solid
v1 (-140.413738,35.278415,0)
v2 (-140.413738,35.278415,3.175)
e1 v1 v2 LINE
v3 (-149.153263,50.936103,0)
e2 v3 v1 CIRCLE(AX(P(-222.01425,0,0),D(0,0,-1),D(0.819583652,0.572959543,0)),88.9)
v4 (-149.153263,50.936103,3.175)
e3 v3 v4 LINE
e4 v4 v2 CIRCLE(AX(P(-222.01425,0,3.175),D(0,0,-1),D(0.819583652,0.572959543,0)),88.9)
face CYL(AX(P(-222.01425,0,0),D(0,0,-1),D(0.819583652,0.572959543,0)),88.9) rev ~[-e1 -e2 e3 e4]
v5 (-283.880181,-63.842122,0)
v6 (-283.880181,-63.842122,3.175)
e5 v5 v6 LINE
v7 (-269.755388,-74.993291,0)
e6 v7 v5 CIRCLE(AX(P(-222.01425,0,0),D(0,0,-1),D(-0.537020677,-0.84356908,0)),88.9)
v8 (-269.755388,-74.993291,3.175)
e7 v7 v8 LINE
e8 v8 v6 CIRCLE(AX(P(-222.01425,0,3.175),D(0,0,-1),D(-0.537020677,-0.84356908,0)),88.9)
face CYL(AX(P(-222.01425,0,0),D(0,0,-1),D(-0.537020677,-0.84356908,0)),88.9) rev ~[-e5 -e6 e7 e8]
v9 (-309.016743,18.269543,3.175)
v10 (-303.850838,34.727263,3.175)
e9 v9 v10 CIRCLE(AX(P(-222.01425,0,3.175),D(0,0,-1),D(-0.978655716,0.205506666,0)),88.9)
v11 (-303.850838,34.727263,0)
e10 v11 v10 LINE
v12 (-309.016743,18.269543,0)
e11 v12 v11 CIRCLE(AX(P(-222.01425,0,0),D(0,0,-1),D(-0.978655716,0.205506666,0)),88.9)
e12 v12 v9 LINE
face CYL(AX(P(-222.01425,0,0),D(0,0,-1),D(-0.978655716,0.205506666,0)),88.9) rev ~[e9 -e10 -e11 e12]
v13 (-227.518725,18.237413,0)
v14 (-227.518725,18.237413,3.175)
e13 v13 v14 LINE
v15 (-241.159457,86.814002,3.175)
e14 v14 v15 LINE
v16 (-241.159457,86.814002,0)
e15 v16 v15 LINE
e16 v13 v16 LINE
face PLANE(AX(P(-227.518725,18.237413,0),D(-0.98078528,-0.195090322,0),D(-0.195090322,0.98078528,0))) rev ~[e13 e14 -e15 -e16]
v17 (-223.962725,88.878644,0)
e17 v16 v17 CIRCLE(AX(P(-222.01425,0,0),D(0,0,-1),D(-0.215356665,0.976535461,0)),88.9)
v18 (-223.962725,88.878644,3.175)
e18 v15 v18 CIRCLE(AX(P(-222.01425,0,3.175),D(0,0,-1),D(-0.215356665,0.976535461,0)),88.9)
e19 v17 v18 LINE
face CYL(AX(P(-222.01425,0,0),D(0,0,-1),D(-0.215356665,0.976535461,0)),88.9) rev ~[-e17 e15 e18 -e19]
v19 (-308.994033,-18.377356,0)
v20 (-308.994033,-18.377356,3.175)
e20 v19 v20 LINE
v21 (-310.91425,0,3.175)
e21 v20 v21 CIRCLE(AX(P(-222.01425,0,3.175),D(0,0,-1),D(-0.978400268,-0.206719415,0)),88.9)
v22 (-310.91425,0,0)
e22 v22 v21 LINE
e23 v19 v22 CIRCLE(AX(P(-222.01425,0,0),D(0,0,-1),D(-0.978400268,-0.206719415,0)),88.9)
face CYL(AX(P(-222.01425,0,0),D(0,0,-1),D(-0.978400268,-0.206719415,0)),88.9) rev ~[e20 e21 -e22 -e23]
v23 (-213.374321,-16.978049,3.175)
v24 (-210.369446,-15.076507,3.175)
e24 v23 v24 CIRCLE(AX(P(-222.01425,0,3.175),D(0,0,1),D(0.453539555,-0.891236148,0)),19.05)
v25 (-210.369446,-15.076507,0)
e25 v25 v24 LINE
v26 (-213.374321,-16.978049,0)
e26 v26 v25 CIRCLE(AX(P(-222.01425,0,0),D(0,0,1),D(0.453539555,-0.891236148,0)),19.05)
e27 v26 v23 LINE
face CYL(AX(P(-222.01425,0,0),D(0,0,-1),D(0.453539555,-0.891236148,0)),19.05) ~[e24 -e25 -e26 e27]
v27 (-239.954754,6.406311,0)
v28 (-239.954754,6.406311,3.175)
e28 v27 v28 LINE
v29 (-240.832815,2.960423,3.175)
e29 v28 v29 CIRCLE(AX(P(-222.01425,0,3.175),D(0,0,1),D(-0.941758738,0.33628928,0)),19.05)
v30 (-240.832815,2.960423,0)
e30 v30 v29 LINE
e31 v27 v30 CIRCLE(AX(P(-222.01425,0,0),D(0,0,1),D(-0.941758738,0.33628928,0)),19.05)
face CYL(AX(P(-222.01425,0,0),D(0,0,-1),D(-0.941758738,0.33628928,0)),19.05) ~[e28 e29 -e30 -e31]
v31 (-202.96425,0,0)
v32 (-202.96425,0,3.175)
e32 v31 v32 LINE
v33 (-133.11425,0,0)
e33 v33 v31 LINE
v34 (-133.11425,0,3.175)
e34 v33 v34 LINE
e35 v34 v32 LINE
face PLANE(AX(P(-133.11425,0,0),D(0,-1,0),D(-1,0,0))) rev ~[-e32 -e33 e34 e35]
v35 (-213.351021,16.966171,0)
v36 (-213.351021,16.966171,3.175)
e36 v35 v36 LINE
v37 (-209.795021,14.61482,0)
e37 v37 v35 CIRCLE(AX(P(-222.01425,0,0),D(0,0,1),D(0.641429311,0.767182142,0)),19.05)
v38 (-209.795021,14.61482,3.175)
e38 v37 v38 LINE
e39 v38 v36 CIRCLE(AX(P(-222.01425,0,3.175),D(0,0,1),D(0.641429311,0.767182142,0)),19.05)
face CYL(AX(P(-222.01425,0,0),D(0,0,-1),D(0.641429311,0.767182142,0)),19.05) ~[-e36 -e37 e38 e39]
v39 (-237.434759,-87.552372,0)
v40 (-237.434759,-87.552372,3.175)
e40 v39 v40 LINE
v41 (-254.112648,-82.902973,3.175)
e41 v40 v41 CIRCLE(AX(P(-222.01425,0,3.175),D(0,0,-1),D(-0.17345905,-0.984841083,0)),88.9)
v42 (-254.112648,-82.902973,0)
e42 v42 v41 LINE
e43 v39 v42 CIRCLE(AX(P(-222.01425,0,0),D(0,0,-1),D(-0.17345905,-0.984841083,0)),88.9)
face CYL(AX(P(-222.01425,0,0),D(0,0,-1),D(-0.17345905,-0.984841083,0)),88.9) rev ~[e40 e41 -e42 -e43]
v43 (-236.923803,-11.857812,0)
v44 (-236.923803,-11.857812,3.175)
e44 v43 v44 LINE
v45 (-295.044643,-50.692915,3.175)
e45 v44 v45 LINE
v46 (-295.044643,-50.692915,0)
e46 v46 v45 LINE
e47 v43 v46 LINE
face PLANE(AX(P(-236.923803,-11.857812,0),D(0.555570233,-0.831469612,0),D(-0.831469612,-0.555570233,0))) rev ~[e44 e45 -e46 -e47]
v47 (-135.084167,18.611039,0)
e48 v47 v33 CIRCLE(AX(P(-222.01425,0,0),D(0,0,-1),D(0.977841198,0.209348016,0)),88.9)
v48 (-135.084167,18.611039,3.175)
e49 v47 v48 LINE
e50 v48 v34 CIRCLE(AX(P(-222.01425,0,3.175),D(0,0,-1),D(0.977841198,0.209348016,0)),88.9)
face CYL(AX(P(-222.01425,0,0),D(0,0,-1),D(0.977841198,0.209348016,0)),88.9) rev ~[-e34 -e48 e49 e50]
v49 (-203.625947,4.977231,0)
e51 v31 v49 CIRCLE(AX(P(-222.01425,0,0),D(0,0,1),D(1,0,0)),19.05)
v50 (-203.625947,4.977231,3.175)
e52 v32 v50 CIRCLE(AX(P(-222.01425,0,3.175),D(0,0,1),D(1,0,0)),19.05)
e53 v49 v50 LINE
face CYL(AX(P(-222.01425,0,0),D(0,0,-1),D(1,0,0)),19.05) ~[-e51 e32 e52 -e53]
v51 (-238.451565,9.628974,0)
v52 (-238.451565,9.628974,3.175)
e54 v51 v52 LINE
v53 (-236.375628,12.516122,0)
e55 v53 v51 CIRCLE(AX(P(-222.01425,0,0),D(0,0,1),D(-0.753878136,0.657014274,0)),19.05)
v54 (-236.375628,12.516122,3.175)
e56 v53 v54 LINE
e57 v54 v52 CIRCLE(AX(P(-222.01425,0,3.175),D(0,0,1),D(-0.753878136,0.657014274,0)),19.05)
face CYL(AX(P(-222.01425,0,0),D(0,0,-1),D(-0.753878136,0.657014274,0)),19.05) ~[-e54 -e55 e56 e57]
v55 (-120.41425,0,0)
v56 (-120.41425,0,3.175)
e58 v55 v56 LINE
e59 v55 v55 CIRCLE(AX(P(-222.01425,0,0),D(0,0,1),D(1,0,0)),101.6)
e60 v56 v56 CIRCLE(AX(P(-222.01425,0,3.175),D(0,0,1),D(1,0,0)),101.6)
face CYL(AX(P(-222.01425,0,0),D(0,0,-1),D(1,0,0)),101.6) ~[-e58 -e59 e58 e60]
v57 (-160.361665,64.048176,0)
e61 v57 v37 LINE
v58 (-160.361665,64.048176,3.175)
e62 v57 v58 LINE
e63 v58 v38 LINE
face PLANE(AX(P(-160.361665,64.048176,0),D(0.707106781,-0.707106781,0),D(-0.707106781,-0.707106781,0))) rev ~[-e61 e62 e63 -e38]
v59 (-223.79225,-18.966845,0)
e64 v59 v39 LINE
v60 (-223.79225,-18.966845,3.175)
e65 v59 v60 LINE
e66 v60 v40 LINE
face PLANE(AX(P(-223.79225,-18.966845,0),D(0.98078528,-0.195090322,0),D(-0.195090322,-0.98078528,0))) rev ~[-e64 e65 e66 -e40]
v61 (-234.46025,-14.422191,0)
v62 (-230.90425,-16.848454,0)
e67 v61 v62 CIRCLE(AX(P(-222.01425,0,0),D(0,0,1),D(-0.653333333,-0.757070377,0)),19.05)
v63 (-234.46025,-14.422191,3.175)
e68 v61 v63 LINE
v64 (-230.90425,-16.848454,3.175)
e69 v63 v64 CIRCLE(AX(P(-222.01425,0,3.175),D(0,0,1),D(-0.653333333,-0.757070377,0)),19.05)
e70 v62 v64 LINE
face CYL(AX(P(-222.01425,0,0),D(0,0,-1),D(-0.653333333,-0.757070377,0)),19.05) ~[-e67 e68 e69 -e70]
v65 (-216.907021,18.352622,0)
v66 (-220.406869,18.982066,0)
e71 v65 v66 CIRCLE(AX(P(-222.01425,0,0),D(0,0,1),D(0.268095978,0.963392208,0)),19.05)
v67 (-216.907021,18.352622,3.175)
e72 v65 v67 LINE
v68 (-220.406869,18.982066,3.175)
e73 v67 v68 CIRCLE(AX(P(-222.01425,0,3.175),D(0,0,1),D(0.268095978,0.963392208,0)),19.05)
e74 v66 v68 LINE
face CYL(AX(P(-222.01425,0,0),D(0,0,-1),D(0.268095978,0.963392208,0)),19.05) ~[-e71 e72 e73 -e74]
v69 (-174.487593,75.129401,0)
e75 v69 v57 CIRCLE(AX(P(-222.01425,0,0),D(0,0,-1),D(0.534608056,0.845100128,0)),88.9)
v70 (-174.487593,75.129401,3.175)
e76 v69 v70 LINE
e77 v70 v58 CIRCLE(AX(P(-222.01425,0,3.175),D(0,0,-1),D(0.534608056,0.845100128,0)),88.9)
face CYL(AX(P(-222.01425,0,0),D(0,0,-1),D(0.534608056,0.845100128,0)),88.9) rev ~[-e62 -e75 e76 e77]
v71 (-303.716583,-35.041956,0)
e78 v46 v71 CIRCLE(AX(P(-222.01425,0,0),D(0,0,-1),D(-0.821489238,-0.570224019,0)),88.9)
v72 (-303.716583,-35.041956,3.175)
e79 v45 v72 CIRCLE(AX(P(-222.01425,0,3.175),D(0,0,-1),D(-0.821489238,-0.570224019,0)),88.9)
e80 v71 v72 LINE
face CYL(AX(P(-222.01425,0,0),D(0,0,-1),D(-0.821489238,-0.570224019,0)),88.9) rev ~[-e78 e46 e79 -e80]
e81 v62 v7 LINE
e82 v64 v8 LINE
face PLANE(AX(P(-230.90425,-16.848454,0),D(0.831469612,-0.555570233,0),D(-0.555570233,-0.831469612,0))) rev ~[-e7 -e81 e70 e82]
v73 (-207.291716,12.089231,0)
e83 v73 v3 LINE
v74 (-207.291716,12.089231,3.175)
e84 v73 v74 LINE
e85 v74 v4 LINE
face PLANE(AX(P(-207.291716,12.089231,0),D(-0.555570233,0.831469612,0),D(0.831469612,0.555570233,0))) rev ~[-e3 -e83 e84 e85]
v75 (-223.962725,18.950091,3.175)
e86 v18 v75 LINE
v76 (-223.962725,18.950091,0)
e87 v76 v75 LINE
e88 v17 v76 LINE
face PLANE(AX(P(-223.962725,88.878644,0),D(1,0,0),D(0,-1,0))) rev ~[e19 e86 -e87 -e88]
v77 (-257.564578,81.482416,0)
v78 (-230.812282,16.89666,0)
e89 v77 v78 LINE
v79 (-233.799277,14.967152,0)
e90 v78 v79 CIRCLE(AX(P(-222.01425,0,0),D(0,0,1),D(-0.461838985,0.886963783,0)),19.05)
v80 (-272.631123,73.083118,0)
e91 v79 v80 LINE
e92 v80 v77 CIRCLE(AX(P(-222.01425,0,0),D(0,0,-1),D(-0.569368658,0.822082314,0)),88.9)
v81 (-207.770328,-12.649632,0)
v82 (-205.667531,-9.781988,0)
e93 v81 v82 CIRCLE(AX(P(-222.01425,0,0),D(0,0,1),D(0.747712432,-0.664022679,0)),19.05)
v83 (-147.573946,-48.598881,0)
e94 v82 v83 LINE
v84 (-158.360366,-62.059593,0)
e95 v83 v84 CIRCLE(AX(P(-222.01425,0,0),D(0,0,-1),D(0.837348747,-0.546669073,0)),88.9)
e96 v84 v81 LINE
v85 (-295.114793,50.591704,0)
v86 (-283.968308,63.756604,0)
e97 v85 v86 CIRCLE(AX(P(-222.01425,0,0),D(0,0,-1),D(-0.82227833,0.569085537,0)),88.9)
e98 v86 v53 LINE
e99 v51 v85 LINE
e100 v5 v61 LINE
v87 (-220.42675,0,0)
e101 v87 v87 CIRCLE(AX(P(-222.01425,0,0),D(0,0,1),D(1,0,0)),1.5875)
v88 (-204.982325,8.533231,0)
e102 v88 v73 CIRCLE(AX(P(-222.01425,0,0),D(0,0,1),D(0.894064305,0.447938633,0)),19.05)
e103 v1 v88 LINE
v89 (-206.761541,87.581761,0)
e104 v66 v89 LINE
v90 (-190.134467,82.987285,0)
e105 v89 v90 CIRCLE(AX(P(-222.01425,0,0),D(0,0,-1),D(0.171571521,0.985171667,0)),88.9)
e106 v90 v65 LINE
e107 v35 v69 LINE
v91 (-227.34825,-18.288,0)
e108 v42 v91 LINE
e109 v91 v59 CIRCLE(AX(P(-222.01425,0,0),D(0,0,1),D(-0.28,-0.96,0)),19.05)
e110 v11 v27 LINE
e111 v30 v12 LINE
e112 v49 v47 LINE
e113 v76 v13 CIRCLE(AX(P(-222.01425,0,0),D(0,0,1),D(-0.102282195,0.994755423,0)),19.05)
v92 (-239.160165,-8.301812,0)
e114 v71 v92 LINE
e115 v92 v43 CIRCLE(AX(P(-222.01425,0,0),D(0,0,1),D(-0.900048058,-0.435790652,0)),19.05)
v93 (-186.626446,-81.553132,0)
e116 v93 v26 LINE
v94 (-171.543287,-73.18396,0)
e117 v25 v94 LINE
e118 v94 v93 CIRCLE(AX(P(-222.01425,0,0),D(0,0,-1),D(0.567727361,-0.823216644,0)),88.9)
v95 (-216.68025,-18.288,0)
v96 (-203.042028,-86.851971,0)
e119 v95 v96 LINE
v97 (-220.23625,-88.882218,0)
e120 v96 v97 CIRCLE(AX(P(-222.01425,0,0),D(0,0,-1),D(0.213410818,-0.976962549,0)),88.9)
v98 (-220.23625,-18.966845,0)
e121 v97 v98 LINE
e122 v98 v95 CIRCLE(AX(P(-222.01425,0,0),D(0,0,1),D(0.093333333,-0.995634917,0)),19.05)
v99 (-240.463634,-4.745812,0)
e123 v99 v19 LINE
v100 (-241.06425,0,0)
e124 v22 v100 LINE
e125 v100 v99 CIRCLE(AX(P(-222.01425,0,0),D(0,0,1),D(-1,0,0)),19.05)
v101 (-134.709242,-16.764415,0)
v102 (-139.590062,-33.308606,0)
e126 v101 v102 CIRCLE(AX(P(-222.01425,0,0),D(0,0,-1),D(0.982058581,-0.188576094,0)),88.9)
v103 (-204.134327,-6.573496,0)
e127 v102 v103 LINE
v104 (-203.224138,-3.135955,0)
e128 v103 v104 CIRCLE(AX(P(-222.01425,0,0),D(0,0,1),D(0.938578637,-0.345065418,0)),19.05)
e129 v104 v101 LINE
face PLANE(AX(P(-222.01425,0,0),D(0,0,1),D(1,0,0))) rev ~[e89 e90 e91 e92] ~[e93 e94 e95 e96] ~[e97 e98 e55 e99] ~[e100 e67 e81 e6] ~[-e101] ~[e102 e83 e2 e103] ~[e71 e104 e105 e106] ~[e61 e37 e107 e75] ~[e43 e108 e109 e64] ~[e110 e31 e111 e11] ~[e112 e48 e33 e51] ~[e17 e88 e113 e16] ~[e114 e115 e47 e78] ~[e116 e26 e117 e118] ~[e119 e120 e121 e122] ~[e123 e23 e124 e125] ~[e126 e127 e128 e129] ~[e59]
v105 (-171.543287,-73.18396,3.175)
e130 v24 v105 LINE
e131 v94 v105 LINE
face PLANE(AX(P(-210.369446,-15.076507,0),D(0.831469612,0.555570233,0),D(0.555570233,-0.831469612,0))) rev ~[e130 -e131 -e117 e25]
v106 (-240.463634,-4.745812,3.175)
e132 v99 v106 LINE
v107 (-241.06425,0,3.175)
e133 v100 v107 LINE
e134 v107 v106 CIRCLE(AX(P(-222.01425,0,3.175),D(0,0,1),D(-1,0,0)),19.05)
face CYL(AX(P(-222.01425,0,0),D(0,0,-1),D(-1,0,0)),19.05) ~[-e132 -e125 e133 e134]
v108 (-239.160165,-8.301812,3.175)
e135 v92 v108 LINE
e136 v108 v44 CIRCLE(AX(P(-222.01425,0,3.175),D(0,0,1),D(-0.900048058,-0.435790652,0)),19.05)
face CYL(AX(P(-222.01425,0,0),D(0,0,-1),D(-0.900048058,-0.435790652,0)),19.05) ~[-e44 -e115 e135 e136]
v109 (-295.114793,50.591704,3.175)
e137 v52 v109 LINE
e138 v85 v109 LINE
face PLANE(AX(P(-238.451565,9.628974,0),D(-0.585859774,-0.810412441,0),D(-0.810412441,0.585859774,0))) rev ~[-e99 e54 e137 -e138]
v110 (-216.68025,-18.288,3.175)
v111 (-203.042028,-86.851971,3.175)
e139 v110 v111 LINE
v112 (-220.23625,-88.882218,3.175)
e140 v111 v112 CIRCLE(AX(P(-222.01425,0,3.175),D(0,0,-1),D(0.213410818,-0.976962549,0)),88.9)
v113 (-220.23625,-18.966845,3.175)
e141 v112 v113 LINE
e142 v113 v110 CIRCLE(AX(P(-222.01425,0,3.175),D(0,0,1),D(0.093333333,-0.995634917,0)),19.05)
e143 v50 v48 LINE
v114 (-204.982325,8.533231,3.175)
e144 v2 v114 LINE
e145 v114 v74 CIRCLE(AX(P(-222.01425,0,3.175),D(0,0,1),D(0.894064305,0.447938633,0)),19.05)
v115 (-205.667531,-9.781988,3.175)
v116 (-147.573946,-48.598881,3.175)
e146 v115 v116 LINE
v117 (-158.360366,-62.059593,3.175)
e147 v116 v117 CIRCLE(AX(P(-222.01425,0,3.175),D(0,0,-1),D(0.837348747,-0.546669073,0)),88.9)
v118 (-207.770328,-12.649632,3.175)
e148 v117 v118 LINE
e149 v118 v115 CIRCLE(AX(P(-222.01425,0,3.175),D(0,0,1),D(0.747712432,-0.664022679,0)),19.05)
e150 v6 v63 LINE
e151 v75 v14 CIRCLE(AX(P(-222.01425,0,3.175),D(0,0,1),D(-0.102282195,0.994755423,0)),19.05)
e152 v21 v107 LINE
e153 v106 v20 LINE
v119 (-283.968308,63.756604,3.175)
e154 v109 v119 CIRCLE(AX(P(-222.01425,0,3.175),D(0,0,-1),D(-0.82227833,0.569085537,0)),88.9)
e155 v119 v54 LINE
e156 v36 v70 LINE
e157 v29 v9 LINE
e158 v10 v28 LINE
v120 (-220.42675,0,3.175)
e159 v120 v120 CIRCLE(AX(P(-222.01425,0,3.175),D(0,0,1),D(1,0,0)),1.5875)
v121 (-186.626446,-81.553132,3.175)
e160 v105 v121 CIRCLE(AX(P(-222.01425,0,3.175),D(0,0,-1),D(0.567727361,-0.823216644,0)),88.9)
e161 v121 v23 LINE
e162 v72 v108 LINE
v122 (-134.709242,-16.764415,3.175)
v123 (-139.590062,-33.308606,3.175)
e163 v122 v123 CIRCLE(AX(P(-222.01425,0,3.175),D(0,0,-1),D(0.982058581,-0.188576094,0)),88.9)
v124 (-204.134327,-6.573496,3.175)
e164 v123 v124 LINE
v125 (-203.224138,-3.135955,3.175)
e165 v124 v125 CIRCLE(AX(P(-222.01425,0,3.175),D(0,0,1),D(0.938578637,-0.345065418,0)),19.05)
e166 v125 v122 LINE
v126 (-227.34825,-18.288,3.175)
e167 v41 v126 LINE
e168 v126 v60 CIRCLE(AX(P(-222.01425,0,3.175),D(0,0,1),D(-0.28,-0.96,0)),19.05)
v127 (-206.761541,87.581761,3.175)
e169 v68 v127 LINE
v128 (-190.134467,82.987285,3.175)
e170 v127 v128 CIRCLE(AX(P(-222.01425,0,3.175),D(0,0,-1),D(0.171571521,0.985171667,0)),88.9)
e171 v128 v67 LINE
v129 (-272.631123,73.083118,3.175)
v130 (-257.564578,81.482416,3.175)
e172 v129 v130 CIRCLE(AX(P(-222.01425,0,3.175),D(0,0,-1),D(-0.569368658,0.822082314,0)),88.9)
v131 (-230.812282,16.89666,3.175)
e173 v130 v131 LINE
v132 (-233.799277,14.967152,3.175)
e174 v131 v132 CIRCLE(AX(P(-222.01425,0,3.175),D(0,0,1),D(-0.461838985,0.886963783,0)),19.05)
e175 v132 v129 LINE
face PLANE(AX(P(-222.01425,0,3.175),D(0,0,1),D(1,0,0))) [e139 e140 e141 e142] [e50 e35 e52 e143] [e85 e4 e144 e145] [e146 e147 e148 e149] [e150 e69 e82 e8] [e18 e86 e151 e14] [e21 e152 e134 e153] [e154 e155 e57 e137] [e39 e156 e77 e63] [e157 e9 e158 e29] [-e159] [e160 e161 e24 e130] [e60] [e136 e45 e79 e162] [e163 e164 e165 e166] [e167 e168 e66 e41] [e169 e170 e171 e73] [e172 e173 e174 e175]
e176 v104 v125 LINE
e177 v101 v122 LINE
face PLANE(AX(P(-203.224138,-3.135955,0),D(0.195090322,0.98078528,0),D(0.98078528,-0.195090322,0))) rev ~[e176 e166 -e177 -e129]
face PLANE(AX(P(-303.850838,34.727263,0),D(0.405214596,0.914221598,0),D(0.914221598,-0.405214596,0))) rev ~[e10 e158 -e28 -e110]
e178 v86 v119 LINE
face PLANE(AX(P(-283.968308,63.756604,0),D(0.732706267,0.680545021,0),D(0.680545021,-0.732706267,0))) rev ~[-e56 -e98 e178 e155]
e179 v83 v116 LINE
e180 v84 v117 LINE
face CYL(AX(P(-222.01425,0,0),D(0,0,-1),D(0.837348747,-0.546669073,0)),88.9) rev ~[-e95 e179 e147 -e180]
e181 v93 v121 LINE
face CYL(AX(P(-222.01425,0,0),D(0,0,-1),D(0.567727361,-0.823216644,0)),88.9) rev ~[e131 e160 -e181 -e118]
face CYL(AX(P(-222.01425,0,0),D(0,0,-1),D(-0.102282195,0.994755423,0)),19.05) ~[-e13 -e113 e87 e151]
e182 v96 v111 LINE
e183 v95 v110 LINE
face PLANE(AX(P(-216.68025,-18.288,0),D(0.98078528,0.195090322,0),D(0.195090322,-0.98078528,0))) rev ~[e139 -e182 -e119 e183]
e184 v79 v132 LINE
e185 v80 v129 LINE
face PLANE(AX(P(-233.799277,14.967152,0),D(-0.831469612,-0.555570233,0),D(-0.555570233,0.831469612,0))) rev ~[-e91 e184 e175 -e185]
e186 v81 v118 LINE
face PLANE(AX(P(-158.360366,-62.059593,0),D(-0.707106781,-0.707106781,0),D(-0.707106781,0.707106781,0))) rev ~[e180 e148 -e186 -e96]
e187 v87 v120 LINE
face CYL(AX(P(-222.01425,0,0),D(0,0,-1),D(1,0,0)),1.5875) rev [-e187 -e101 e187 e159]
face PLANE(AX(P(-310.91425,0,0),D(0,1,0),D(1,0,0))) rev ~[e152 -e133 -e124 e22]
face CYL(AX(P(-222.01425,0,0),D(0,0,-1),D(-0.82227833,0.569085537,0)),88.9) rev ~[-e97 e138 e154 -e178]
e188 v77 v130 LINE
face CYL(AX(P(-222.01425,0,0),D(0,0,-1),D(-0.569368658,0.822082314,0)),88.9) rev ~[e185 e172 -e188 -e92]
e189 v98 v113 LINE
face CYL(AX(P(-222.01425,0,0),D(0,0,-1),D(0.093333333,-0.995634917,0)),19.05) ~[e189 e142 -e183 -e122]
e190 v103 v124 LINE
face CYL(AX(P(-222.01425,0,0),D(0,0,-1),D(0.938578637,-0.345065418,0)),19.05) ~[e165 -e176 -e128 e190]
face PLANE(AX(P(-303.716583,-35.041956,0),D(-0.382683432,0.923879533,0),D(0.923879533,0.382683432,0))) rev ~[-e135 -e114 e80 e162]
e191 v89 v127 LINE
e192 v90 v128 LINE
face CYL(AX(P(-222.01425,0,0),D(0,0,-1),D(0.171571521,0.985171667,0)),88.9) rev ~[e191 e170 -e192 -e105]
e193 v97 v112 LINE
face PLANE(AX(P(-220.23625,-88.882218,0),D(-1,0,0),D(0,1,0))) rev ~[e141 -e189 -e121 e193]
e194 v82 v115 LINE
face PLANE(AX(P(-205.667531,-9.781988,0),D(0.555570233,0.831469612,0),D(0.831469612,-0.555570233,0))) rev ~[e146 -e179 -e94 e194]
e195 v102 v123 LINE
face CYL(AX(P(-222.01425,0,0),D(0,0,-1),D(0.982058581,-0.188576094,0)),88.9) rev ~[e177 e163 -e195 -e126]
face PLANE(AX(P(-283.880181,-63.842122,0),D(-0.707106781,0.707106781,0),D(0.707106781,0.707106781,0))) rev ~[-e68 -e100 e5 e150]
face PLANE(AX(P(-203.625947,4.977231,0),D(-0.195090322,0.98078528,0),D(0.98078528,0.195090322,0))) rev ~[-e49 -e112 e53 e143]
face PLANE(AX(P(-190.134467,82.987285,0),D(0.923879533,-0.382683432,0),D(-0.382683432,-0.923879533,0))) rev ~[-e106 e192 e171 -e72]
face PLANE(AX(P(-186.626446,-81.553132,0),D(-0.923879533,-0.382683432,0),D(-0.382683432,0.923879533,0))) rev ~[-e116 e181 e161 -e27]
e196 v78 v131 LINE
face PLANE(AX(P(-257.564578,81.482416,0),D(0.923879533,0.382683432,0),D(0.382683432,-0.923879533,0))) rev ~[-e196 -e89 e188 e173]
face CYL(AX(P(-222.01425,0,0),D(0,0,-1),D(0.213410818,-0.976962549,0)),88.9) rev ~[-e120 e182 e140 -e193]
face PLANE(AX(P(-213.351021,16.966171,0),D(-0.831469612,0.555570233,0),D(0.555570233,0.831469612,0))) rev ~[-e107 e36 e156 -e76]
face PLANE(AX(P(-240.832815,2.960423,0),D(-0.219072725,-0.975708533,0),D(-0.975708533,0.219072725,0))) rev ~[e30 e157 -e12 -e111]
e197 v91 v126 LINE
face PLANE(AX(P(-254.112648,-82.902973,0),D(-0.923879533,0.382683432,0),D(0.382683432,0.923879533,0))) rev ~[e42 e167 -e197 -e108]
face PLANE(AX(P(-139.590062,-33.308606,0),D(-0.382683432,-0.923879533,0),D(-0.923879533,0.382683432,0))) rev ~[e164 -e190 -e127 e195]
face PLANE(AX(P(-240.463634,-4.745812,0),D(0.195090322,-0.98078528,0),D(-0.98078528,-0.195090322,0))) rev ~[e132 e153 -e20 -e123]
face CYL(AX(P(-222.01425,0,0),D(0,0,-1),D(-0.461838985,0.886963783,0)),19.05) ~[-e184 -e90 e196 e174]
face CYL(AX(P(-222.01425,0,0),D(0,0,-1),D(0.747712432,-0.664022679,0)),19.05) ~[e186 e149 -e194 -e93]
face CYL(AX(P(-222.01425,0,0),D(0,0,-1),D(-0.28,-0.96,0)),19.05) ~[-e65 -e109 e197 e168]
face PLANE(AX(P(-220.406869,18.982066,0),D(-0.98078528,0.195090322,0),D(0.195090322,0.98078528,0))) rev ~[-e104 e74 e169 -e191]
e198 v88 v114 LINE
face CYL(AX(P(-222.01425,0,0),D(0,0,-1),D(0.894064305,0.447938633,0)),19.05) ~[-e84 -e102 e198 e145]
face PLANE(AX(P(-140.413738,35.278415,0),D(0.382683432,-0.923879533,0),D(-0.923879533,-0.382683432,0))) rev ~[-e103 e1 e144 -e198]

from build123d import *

# Parameters (mm, degrees)
F0_R     = 101.6
F0_R_2   = 1.5875
F1_DEPTH = 3.175


with BuildPart() as f1:
    # F0 (on Top) → F1 (new body)
    with BuildSketch(Plane.XY):
        with Locations((-222.0142495763, 0)):
            Circle(F0_R)
        with BuildLine():
            ThreePointArc((-135.0841670946, 18.6110386526), (-133.6081006594, 9.3575014662), (-133.1142495763, 0))
            ThreePointArc((-133.1142495763, 0), (-133.5138959069, -8.4200594054), (-134.7092417111, -16.7644147423))
            ThreePointArc((-134.7092417111, -16.7644147423), (-136.7474474497, -25.1551675627), (-139.5900616279, -33.3086061109))
            ThreePointArc((-139.5900616279, -33.3086061109), (-143.2102820197, -41.1478395221), (-147.5739459516, -48.598880607))
            ThreePointArc((-147.5739459516, -48.598880607), (-152.6399112932, -55.5914668612), (-158.360366293, -62.0595934804))
            ThreePointArc((-158.360366293, -62.0595934804), (-164.6813795848, -67.9422697482), (-171.5432871751, -73.183959679))
            ThreePointArc((-171.5432871751, -73.183959679), (-178.8814001833, -77.7352384909), (-186.626445729, -81.5531319991))
            ThreePointArc((-186.626445729, -81.5531319991), (-194.7054136888, -84.6016399514), (-203.0420278604, -86.8519706349))
            ThreePointArc((-203.0420278604, -86.8519706349), (-211.5895960266, -88.2866728242), (-220.2362495763, -88.8822182216))
            ThreePointArc((-220.2362495763, -88.8822182216), (-228.8678354502, -88.6354238477), (-237.4347591324, -87.552372241))
            ThreePointArc((-237.4347591324, -87.552372241), (-245.8871604157, -85.6346549479), (-254.1126475187, -82.9029725012))
            ThreePointArc((-254.1126475187, -82.9029725012), (-262.1294417887, -79.3346163649), (-269.7553877472, -74.9932912076))
            ThreePointArc((-269.7553877472, -74.9932912076), (-277.1006777085, -69.7760376894), (-283.8801808983, -63.8421220016))
            ThreePointArc((-283.8801808983, -63.8421220016), (-289.7820886129, -57.5389432672), (-295.0446428617, -50.6929152504))
            ThreePointArc((-295.0446428617, -50.6929152504), (-299.7753730949, -43.0861656349), (-303.7165832559, -35.0419558715))
            ThreePointArc((-303.7165832559, -35.0419558715), (-306.7658950479, -26.8396831175), (-308.9940333585, -18.3773559905))
            ThreePointArc((-308.9940333585, -18.3773559905), (-310.4328923453, -9.2387017963), (-310.9142495763, 0))
            ThreePointArc((-310.9142495763, 0), (-310.4386004074, 9.1839087597), (-309.0167427123, 18.2695426359))
            ThreePointArc((-309.0167427123, 18.2695426359), (-306.8338994736, 26.6239927753), (-303.8508380517, 34.7272628738))
            ThreePointArc((-303.8508380517, 34.7272628738), (-299.8878577, 42.8825274186), (-295.1147930895, 50.5917042416))
            ThreePointArc((-295.1147930895, 50.5917042416), (-289.8616154265, 57.4451472902), (-283.9683084188, 63.7566043084))
            ThreePointArc((-283.9683084188, 63.7566043084), (-278.492561142, 68.6542811679), (-272.6311232915, 73.0831177174))
            ThreePointArc((-272.6311232915, 73.0831177174), (-265.3020509448, 77.6490582859), (-257.5645783025, 81.482416063))
            ThreePointArc((-257.5645783025, 81.482416063), (-249.4916380011, 84.5470468163), (-241.1594570914, 86.814002495))
            ThreePointArc((-241.1594570914, 86.814002495), (-232.611492416, 88.2661228569), (-223.9627253989, 88.8786444652))
            ThreePointArc((-223.9627253989, 88.8786444652), (-215.3306033923, 88.6484002884), (-206.7615413815, 87.5817611876))
            ThreePointArc((-206.7615413815, 87.5817611876), (-198.3363015236, 85.6887669185), (-190.1344670232, 82.987284956))
            ThreePointArc((-190.1344670232, 82.987284956), (-182.1171041904, 79.4444950267), (-174.4875934361, 75.1294014094))
            ThreePointArc((-174.4875934361, 75.1294014094), (-167.1441754618, 69.9463005931), (-160.3616651357, 64.0481758663))
            ThreePointArc((-160.3616651357, 64.0481758663), (-154.4386858425, 57.7646361199), (-149.1532629181, 50.9361033373))
            ThreePointArc((-149.1532629181, 50.9361033373), (-144.3877117041, 43.32817349), (-140.4137383593, 35.2784150596))
            ThreePointArc((-140.4137383593, 35.2784150596), (-137.3378620047, 27.0761774964), (-135.0841670946, 18.6110386526))
        make_face(mode=Mode.SUBTRACT)
        with BuildLine():
            ThreePointArc((-203.224138098, -3.1359545012), (-203.0293328836, -1.5733525255), (-202.9642495763, 0))
            ThreePointArc((-202.9642495763, 0), (-203.130398482, 2.5105114713), (-203.6259469881, 4.9772309496))
            ThreePointArc((-203.6259469881, 4.9772309496), (-204.2151087323, 6.7891888481), (-204.9823245659, 8.5332309496))
            ThreePointArc((-204.9823245659, 8.5332309496), (-206.0377764326, 10.3756833938), (-207.2917159952, 12.0892309496))
            ThreePointArc((-207.2917159952, 12.0892309496), (-208.4843092912, 13.410563593), (-209.7950211992, 14.6148198028))
            ThreePointArc((-209.7950211992, 14.6148198028), (-211.5070394956, 15.8902811907), (-213.3510211992, 16.9661714622))
            ThreePointArc((-213.3510211992, 16.9661714622), (-215.0942112255, 17.7486779571), (-216.9070211992, 18.3526215649))
            ThreePointArc((-216.9070211992, 18.3526215649), (-218.6422260186, 18.7491855057), (-220.4068691602, 18.9820659623))
            ThreePointArc((-220.4068691602, 18.9820659623), (-222.1855449982, 19.04922985), (-223.9627253989, 18.9500908169))
            ThreePointArc((-223.9627253989, 18.9500908169), (-225.7577238112, 18.6785679497), (-227.5187253989, 18.237413356))
            ThreePointArc((-227.5187253989, 18.237413356), (-229.1968564876, 17.6440544648), (-230.8122822323, 16.8966600659))
            ThreePointArc((-230.8122822323, 16.8966600659), (-232.3508996999, 16.0017550357), (-233.7992765057, 14.9671520429))
            ThreePointArc((-233.7992765057, 14.9671520429), (-235.1447680812, 13.8018833422), (-236.3756280629, 12.5161219219))
            ThreePointArc((-236.3756280629, 12.5161219219), (-237.48111084, 11.1210926914), (-238.4515653653, 9.6289744861))
            ThreePointArc((-238.4515653653, 9.6289744861), (-239.2785194107, 8.0527937441), (-239.9547535309, 6.4063107836))
            ThreePointArc((-239.9547535309, 6.4063107836), (-240.4743640903, 4.7038996726), (-240.8328148031, 2.960422741))
            ThreePointArc((-240.8328148031, 2.960422741), (-241.0063027509, 1.4847276568), (-241.0642495763, 0))
            ThreePointArc((-241.0642495763, 0), (-240.9134990954, -2.3918335259), (-240.4636335537, -4.7458119279))
            ThreePointArc((-240.4636335537, -4.7458119279), (-239.9004906688, -6.5562855018), (-239.1601650874, -8.3018119279))
            ThreePointArc((-239.1601650874, -8.3018119279), (-238.1403018874, -10.1416436962), (-236.9238034356, -11.8578119279))
            ThreePointArc((-236.9238034356, -11.8578119279), (-235.7519928893, -13.1976099604), (-234.4602495763, -14.4221906796))
            ThreePointArc((-234.4602495763, -14.4221906796), (-232.751004782, -15.7360918799), (-230.9042495763, -16.848453935))
            ThreePointArc((-230.9042495763, -16.848453935), (-229.1625792566, -17.6579693844), (-227.3482495763, -18.288))
            ThreePointArc((-227.3482495763, -18.288), (-225.5864119038, -18.7120858353), (-223.7922495763, -18.9668451778))
            ThreePointArc((-223.7922495763, -18.9668451778), (-222.0142495763, -19.05), (-220.2362495763, -18.9668451778))
            ThreePointArc((-220.2362495763, -18.9668451778), (-218.4420872488, -18.7120858353), (-216.6802495763, -18.288))
            ThreePointArc((-216.6802495763, -18.288), (-214.9966529265, -17.7103313707), (-213.3743210538, -16.9780486254))
            ThreePointArc((-213.3743210538, -16.9780486254), (-211.8274171831, -16.0975447132), (-210.3694460406, -15.0765065786))
            ThreePointArc((-210.3694460406, -15.0765065786), (-209.0131359551, -13.9238480532), (-207.7703277374, -12.649632036))
            ThreePointArc((-207.7703277374, -12.649632036), (-206.6518713084, -11.2649826433), (-205.6675309773, -9.7819880927))
            ThreePointArc((-205.6675309773, -9.7819880927), (-204.8259001977, -8.2135951714), (-204.1343265453, -6.5734962087))
            ThreePointArc((-204.1343265453, -6.5734962087), (-203.5988475721, -4.876009539), (-203.224138098, -3.1359545012))
        make_face()
        with Locations((-222.0142495763, 0)):
            Circle(F0_R_2, mode=Mode.SUBTRACT)
        with BuildLine():
            Line((-238.4515653653, 9.6289744861), (-295.1147930895, 50.5917042416))
            ThreePointArc((-295.1147930895, 50.5917042416), (-299.8878577, 42.8825274186), (-303.8508380517, 34.7272628738))
            Line((-303.8508380517, 34.7272628738), (-239.9547535309, 6.4063107836))
            ThreePointArc((-239.9547535309, 6.4063107836), (-239.2785194107, 8.0527937441), (-238.4515653653, 9.6289744861))
        make_face()
        with BuildLine():
            ThreePointArc((-269.7553877472, -74.9932912076), (-262.1294417887, -79.3346163649), (-254.1126475187, -82.9029725012))
            Line((-254.1126475187, -82.9029725012), (-227.3482495763, -18.288))
            ThreePointArc((-227.3482495763, -18.288), (-229.1625792566, -17.6579693844), (-230.9042495763, -16.848453935))
            Line((-230.9042495763, -16.848453935), (-269.7553877472, -74.9932912076))
        make_face()
        with BuildLine():
            Line((-240.8328148031, 2.960422741), (-309.0167427123, 18.2695426359))
            ThreePointArc((-309.0167427123, 18.2695426359), (-310.4386004074, 9.1839087597), (-310.9142495763, 0))
            Line((-310.9142495763, 0), (-241.0642495763, 0))
            ThreePointArc((-241.0642495763, 0), (-241.0063027509, 1.4847276568), (-240.8328148031, 2.960422741))
        make_face()
        with BuildLine():
            Line((-213.3510211992, 16.9661714622), (-174.4875934361, 75.1294014094))
            ThreePointArc((-174.4875934361, 75.1294014094), (-182.1171041904, 79.4444950267), (-190.1344670232, 82.987284956))
            Line((-190.1344670232, 82.987284956), (-216.9070211992, 18.3526215649))
            ThreePointArc((-216.9070211992, 18.3526215649), (-215.0942112255, 17.7486779571), (-213.3510211992, 16.9661714622))
        make_face()
        with BuildLine():
            Line((-203.6259469881, 4.9772309496), (-135.0841670946, 18.6110386526))
            ThreePointArc((-135.0841670946, 18.6110386526), (-137.3378620047, 27.0761774964), (-140.4137383593, 35.2784150596))
            Line((-140.4137383593, 35.2784150596), (-204.9823245659, 8.5332309496))
            ThreePointArc((-204.9823245659, 8.5332309496), (-204.2151087323, 6.7891888481), (-203.6259469881, 4.9772309496))
        make_face()
        with BuildLine():
            ThreePointArc((-308.9940333585, -18.3773559905), (-306.7658950479, -26.8396831175), (-303.7165832559, -35.0419558715))
            Line((-303.7165832559, -35.0419558715), (-239.1601650874, -8.3018119279))
            ThreePointArc((-239.1601650874, -8.3018119279), (-239.9004906688, -6.5562855018), (-240.4636335537, -4.7458119279))
            Line((-240.4636335537, -4.7458119279), (-308.9940333585, -18.3773559905))
        make_face()
        with BuildLine():
            Line((-220.4068691602, 18.9820659623), (-206.7615413815, 87.5817611876))
            ThreePointArc((-206.7615413815, 87.5817611876), (-215.3306033923, 88.6484002884), (-223.9627253989, 88.8786444652))
            Line((-223.9627253989, 88.8786444652), (-223.9627253989, 18.9500908169))
            ThreePointArc((-223.9627253989, 18.9500908169), (-222.1855449982, 19.04922985), (-220.4068691602, 18.9820659623))
        make_face()
        with BuildLine():
            ThreePointArc((-237.4347591324, -87.552372241), (-228.8678354502, -88.6354238477), (-220.2362495763, -88.8822182216))
            Line((-220.2362495763, -88.8822182216), (-220.2362495763, -18.9668451778))
            ThreePointArc((-220.2362495763, -18.9668451778), (-222.0142495763, -19.05), (-223.7922495763, -18.9668451778))
            Line((-223.7922495763, -18.9668451778), (-237.4347591324, -87.552372241))
        make_face()
        with BuildLine():
            Line((-207.2917159952, 12.0892309496), (-149.1532629181, 50.9361033373))
            ThreePointArc((-149.1532629181, 50.9361033373), (-154.4386858425, 57.7646361199), (-160.3616651357, 64.0481758663))
            Line((-160.3616651357, 64.0481758663), (-209.7950211992, 14.6148198028))
            ThreePointArc((-209.7950211992, 14.6148198028), (-208.4843092912, 13.410563593), (-207.2917159952, 12.0892309496))
        make_face()
        with BuildLine():
            Line((-227.5187253989, 18.237413356), (-241.1594570914, 86.814002495))
            ThreePointArc((-241.1594570914, 86.814002495), (-249.4916380011, 84.5470468163), (-257.5645783025, 81.482416063))
            Line((-257.5645783025, 81.482416063), (-230.8122822323, 16.8966600659))
            ThreePointArc((-230.8122822323, 16.8966600659), (-229.1968564876, 17.6440544648), (-227.5187253989, 18.237413356))
        make_face()
        with BuildLine():
            ThreePointArc((-203.0420278604, -86.8519706349), (-194.7054136888, -84.6016399514), (-186.626445729, -81.5531319991))
            Line((-186.626445729, -81.5531319991), (-213.3743210538, -16.9780486254))
            ThreePointArc((-213.3743210538, -16.9780486254), (-214.9966529265, -17.7103313707), (-216.6802495763, -18.288))
            Line((-216.6802495763, -18.288), (-203.0420278604, -86.8519706349))
        make_face()
        with BuildLine():
            ThreePointArc((-295.0446428617, -50.6929152504), (-289.7820886129, -57.5389432672), (-283.8801808983, -63.8421220016))
            Line((-283.8801808983, -63.8421220016), (-234.4602495763, -14.4221906796))
            ThreePointArc((-234.4602495763, -14.4221906796), (-235.7519928893, -13.1976099604), (-236.9238034356, -11.8578119279))
            Line((-236.9238034356, -11.8578119279), (-295.0446428617, -50.6929152504))
        make_face()
        with BuildLine():
            ThreePointArc((-171.5432871751, -73.183959679), (-164.6813795848, -67.9422697482), (-158.360366293, -62.0595934804))
            Line((-158.360366293, -62.0595934804), (-207.7703277374, -12.649632036))
            ThreePointArc((-207.7703277374, -12.649632036), (-209.0131359551, -13.9238480532), (-210.3694460406, -15.0765065786))
            Line((-210.3694460406, -15.0765065786), (-171.5432871751, -73.183959679))
        make_face()
        with BuildLine():
            ThreePointArc((-147.5739459516, -48.598880607), (-143.2102820197, -41.1478395221), (-139.5900616279, -33.3086061109))
            Line((-139.5900616279, -33.3086061109), (-204.1343265453, -6.5734962087))
            ThreePointArc((-204.1343265453, -6.5734962087), (-204.8259001977, -8.2135951714), (-205.6675309773, -9.7819880927))
            Line((-205.6675309773, -9.7819880927), (-147.5739459516, -48.598880607))
        make_face()
        with BuildLine():
            ThreePointArc((-134.7092417111, -16.7644147423), (-133.5138959069, -8.4200594054), (-133.1142495763, 0))
            Line((-133.1142495763, 0), (-202.9642495763, 0))
            ThreePointArc((-202.9642495763, 0), (-203.0293328836, -1.5733525255), (-203.224138098, -3.1359545012))
            Line((-203.224138098, -3.1359545012), (-134.7092417111, -16.7644147423))
        make_face()
        with BuildLine():
            Line((-233.7992765057, 14.9671520429), (-272.6311232915, 73.0831177174))
            ThreePointArc((-272.6311232915, 73.0831177174), (-278.492561142, 68.6542811679), (-283.9683084188, 63.7566043084))
            Line((-283.9683084188, 63.7566043084), (-236.3756280629, 12.5161219219))
            ThreePointArc((-236.3756280629, 12.5161219219), (-235.1447680812, 13.8018833422), (-233.7992765057, 14.9671520429))
        make_face()
    extrude(amount=F1_DEPTH)


solid = f1.part
